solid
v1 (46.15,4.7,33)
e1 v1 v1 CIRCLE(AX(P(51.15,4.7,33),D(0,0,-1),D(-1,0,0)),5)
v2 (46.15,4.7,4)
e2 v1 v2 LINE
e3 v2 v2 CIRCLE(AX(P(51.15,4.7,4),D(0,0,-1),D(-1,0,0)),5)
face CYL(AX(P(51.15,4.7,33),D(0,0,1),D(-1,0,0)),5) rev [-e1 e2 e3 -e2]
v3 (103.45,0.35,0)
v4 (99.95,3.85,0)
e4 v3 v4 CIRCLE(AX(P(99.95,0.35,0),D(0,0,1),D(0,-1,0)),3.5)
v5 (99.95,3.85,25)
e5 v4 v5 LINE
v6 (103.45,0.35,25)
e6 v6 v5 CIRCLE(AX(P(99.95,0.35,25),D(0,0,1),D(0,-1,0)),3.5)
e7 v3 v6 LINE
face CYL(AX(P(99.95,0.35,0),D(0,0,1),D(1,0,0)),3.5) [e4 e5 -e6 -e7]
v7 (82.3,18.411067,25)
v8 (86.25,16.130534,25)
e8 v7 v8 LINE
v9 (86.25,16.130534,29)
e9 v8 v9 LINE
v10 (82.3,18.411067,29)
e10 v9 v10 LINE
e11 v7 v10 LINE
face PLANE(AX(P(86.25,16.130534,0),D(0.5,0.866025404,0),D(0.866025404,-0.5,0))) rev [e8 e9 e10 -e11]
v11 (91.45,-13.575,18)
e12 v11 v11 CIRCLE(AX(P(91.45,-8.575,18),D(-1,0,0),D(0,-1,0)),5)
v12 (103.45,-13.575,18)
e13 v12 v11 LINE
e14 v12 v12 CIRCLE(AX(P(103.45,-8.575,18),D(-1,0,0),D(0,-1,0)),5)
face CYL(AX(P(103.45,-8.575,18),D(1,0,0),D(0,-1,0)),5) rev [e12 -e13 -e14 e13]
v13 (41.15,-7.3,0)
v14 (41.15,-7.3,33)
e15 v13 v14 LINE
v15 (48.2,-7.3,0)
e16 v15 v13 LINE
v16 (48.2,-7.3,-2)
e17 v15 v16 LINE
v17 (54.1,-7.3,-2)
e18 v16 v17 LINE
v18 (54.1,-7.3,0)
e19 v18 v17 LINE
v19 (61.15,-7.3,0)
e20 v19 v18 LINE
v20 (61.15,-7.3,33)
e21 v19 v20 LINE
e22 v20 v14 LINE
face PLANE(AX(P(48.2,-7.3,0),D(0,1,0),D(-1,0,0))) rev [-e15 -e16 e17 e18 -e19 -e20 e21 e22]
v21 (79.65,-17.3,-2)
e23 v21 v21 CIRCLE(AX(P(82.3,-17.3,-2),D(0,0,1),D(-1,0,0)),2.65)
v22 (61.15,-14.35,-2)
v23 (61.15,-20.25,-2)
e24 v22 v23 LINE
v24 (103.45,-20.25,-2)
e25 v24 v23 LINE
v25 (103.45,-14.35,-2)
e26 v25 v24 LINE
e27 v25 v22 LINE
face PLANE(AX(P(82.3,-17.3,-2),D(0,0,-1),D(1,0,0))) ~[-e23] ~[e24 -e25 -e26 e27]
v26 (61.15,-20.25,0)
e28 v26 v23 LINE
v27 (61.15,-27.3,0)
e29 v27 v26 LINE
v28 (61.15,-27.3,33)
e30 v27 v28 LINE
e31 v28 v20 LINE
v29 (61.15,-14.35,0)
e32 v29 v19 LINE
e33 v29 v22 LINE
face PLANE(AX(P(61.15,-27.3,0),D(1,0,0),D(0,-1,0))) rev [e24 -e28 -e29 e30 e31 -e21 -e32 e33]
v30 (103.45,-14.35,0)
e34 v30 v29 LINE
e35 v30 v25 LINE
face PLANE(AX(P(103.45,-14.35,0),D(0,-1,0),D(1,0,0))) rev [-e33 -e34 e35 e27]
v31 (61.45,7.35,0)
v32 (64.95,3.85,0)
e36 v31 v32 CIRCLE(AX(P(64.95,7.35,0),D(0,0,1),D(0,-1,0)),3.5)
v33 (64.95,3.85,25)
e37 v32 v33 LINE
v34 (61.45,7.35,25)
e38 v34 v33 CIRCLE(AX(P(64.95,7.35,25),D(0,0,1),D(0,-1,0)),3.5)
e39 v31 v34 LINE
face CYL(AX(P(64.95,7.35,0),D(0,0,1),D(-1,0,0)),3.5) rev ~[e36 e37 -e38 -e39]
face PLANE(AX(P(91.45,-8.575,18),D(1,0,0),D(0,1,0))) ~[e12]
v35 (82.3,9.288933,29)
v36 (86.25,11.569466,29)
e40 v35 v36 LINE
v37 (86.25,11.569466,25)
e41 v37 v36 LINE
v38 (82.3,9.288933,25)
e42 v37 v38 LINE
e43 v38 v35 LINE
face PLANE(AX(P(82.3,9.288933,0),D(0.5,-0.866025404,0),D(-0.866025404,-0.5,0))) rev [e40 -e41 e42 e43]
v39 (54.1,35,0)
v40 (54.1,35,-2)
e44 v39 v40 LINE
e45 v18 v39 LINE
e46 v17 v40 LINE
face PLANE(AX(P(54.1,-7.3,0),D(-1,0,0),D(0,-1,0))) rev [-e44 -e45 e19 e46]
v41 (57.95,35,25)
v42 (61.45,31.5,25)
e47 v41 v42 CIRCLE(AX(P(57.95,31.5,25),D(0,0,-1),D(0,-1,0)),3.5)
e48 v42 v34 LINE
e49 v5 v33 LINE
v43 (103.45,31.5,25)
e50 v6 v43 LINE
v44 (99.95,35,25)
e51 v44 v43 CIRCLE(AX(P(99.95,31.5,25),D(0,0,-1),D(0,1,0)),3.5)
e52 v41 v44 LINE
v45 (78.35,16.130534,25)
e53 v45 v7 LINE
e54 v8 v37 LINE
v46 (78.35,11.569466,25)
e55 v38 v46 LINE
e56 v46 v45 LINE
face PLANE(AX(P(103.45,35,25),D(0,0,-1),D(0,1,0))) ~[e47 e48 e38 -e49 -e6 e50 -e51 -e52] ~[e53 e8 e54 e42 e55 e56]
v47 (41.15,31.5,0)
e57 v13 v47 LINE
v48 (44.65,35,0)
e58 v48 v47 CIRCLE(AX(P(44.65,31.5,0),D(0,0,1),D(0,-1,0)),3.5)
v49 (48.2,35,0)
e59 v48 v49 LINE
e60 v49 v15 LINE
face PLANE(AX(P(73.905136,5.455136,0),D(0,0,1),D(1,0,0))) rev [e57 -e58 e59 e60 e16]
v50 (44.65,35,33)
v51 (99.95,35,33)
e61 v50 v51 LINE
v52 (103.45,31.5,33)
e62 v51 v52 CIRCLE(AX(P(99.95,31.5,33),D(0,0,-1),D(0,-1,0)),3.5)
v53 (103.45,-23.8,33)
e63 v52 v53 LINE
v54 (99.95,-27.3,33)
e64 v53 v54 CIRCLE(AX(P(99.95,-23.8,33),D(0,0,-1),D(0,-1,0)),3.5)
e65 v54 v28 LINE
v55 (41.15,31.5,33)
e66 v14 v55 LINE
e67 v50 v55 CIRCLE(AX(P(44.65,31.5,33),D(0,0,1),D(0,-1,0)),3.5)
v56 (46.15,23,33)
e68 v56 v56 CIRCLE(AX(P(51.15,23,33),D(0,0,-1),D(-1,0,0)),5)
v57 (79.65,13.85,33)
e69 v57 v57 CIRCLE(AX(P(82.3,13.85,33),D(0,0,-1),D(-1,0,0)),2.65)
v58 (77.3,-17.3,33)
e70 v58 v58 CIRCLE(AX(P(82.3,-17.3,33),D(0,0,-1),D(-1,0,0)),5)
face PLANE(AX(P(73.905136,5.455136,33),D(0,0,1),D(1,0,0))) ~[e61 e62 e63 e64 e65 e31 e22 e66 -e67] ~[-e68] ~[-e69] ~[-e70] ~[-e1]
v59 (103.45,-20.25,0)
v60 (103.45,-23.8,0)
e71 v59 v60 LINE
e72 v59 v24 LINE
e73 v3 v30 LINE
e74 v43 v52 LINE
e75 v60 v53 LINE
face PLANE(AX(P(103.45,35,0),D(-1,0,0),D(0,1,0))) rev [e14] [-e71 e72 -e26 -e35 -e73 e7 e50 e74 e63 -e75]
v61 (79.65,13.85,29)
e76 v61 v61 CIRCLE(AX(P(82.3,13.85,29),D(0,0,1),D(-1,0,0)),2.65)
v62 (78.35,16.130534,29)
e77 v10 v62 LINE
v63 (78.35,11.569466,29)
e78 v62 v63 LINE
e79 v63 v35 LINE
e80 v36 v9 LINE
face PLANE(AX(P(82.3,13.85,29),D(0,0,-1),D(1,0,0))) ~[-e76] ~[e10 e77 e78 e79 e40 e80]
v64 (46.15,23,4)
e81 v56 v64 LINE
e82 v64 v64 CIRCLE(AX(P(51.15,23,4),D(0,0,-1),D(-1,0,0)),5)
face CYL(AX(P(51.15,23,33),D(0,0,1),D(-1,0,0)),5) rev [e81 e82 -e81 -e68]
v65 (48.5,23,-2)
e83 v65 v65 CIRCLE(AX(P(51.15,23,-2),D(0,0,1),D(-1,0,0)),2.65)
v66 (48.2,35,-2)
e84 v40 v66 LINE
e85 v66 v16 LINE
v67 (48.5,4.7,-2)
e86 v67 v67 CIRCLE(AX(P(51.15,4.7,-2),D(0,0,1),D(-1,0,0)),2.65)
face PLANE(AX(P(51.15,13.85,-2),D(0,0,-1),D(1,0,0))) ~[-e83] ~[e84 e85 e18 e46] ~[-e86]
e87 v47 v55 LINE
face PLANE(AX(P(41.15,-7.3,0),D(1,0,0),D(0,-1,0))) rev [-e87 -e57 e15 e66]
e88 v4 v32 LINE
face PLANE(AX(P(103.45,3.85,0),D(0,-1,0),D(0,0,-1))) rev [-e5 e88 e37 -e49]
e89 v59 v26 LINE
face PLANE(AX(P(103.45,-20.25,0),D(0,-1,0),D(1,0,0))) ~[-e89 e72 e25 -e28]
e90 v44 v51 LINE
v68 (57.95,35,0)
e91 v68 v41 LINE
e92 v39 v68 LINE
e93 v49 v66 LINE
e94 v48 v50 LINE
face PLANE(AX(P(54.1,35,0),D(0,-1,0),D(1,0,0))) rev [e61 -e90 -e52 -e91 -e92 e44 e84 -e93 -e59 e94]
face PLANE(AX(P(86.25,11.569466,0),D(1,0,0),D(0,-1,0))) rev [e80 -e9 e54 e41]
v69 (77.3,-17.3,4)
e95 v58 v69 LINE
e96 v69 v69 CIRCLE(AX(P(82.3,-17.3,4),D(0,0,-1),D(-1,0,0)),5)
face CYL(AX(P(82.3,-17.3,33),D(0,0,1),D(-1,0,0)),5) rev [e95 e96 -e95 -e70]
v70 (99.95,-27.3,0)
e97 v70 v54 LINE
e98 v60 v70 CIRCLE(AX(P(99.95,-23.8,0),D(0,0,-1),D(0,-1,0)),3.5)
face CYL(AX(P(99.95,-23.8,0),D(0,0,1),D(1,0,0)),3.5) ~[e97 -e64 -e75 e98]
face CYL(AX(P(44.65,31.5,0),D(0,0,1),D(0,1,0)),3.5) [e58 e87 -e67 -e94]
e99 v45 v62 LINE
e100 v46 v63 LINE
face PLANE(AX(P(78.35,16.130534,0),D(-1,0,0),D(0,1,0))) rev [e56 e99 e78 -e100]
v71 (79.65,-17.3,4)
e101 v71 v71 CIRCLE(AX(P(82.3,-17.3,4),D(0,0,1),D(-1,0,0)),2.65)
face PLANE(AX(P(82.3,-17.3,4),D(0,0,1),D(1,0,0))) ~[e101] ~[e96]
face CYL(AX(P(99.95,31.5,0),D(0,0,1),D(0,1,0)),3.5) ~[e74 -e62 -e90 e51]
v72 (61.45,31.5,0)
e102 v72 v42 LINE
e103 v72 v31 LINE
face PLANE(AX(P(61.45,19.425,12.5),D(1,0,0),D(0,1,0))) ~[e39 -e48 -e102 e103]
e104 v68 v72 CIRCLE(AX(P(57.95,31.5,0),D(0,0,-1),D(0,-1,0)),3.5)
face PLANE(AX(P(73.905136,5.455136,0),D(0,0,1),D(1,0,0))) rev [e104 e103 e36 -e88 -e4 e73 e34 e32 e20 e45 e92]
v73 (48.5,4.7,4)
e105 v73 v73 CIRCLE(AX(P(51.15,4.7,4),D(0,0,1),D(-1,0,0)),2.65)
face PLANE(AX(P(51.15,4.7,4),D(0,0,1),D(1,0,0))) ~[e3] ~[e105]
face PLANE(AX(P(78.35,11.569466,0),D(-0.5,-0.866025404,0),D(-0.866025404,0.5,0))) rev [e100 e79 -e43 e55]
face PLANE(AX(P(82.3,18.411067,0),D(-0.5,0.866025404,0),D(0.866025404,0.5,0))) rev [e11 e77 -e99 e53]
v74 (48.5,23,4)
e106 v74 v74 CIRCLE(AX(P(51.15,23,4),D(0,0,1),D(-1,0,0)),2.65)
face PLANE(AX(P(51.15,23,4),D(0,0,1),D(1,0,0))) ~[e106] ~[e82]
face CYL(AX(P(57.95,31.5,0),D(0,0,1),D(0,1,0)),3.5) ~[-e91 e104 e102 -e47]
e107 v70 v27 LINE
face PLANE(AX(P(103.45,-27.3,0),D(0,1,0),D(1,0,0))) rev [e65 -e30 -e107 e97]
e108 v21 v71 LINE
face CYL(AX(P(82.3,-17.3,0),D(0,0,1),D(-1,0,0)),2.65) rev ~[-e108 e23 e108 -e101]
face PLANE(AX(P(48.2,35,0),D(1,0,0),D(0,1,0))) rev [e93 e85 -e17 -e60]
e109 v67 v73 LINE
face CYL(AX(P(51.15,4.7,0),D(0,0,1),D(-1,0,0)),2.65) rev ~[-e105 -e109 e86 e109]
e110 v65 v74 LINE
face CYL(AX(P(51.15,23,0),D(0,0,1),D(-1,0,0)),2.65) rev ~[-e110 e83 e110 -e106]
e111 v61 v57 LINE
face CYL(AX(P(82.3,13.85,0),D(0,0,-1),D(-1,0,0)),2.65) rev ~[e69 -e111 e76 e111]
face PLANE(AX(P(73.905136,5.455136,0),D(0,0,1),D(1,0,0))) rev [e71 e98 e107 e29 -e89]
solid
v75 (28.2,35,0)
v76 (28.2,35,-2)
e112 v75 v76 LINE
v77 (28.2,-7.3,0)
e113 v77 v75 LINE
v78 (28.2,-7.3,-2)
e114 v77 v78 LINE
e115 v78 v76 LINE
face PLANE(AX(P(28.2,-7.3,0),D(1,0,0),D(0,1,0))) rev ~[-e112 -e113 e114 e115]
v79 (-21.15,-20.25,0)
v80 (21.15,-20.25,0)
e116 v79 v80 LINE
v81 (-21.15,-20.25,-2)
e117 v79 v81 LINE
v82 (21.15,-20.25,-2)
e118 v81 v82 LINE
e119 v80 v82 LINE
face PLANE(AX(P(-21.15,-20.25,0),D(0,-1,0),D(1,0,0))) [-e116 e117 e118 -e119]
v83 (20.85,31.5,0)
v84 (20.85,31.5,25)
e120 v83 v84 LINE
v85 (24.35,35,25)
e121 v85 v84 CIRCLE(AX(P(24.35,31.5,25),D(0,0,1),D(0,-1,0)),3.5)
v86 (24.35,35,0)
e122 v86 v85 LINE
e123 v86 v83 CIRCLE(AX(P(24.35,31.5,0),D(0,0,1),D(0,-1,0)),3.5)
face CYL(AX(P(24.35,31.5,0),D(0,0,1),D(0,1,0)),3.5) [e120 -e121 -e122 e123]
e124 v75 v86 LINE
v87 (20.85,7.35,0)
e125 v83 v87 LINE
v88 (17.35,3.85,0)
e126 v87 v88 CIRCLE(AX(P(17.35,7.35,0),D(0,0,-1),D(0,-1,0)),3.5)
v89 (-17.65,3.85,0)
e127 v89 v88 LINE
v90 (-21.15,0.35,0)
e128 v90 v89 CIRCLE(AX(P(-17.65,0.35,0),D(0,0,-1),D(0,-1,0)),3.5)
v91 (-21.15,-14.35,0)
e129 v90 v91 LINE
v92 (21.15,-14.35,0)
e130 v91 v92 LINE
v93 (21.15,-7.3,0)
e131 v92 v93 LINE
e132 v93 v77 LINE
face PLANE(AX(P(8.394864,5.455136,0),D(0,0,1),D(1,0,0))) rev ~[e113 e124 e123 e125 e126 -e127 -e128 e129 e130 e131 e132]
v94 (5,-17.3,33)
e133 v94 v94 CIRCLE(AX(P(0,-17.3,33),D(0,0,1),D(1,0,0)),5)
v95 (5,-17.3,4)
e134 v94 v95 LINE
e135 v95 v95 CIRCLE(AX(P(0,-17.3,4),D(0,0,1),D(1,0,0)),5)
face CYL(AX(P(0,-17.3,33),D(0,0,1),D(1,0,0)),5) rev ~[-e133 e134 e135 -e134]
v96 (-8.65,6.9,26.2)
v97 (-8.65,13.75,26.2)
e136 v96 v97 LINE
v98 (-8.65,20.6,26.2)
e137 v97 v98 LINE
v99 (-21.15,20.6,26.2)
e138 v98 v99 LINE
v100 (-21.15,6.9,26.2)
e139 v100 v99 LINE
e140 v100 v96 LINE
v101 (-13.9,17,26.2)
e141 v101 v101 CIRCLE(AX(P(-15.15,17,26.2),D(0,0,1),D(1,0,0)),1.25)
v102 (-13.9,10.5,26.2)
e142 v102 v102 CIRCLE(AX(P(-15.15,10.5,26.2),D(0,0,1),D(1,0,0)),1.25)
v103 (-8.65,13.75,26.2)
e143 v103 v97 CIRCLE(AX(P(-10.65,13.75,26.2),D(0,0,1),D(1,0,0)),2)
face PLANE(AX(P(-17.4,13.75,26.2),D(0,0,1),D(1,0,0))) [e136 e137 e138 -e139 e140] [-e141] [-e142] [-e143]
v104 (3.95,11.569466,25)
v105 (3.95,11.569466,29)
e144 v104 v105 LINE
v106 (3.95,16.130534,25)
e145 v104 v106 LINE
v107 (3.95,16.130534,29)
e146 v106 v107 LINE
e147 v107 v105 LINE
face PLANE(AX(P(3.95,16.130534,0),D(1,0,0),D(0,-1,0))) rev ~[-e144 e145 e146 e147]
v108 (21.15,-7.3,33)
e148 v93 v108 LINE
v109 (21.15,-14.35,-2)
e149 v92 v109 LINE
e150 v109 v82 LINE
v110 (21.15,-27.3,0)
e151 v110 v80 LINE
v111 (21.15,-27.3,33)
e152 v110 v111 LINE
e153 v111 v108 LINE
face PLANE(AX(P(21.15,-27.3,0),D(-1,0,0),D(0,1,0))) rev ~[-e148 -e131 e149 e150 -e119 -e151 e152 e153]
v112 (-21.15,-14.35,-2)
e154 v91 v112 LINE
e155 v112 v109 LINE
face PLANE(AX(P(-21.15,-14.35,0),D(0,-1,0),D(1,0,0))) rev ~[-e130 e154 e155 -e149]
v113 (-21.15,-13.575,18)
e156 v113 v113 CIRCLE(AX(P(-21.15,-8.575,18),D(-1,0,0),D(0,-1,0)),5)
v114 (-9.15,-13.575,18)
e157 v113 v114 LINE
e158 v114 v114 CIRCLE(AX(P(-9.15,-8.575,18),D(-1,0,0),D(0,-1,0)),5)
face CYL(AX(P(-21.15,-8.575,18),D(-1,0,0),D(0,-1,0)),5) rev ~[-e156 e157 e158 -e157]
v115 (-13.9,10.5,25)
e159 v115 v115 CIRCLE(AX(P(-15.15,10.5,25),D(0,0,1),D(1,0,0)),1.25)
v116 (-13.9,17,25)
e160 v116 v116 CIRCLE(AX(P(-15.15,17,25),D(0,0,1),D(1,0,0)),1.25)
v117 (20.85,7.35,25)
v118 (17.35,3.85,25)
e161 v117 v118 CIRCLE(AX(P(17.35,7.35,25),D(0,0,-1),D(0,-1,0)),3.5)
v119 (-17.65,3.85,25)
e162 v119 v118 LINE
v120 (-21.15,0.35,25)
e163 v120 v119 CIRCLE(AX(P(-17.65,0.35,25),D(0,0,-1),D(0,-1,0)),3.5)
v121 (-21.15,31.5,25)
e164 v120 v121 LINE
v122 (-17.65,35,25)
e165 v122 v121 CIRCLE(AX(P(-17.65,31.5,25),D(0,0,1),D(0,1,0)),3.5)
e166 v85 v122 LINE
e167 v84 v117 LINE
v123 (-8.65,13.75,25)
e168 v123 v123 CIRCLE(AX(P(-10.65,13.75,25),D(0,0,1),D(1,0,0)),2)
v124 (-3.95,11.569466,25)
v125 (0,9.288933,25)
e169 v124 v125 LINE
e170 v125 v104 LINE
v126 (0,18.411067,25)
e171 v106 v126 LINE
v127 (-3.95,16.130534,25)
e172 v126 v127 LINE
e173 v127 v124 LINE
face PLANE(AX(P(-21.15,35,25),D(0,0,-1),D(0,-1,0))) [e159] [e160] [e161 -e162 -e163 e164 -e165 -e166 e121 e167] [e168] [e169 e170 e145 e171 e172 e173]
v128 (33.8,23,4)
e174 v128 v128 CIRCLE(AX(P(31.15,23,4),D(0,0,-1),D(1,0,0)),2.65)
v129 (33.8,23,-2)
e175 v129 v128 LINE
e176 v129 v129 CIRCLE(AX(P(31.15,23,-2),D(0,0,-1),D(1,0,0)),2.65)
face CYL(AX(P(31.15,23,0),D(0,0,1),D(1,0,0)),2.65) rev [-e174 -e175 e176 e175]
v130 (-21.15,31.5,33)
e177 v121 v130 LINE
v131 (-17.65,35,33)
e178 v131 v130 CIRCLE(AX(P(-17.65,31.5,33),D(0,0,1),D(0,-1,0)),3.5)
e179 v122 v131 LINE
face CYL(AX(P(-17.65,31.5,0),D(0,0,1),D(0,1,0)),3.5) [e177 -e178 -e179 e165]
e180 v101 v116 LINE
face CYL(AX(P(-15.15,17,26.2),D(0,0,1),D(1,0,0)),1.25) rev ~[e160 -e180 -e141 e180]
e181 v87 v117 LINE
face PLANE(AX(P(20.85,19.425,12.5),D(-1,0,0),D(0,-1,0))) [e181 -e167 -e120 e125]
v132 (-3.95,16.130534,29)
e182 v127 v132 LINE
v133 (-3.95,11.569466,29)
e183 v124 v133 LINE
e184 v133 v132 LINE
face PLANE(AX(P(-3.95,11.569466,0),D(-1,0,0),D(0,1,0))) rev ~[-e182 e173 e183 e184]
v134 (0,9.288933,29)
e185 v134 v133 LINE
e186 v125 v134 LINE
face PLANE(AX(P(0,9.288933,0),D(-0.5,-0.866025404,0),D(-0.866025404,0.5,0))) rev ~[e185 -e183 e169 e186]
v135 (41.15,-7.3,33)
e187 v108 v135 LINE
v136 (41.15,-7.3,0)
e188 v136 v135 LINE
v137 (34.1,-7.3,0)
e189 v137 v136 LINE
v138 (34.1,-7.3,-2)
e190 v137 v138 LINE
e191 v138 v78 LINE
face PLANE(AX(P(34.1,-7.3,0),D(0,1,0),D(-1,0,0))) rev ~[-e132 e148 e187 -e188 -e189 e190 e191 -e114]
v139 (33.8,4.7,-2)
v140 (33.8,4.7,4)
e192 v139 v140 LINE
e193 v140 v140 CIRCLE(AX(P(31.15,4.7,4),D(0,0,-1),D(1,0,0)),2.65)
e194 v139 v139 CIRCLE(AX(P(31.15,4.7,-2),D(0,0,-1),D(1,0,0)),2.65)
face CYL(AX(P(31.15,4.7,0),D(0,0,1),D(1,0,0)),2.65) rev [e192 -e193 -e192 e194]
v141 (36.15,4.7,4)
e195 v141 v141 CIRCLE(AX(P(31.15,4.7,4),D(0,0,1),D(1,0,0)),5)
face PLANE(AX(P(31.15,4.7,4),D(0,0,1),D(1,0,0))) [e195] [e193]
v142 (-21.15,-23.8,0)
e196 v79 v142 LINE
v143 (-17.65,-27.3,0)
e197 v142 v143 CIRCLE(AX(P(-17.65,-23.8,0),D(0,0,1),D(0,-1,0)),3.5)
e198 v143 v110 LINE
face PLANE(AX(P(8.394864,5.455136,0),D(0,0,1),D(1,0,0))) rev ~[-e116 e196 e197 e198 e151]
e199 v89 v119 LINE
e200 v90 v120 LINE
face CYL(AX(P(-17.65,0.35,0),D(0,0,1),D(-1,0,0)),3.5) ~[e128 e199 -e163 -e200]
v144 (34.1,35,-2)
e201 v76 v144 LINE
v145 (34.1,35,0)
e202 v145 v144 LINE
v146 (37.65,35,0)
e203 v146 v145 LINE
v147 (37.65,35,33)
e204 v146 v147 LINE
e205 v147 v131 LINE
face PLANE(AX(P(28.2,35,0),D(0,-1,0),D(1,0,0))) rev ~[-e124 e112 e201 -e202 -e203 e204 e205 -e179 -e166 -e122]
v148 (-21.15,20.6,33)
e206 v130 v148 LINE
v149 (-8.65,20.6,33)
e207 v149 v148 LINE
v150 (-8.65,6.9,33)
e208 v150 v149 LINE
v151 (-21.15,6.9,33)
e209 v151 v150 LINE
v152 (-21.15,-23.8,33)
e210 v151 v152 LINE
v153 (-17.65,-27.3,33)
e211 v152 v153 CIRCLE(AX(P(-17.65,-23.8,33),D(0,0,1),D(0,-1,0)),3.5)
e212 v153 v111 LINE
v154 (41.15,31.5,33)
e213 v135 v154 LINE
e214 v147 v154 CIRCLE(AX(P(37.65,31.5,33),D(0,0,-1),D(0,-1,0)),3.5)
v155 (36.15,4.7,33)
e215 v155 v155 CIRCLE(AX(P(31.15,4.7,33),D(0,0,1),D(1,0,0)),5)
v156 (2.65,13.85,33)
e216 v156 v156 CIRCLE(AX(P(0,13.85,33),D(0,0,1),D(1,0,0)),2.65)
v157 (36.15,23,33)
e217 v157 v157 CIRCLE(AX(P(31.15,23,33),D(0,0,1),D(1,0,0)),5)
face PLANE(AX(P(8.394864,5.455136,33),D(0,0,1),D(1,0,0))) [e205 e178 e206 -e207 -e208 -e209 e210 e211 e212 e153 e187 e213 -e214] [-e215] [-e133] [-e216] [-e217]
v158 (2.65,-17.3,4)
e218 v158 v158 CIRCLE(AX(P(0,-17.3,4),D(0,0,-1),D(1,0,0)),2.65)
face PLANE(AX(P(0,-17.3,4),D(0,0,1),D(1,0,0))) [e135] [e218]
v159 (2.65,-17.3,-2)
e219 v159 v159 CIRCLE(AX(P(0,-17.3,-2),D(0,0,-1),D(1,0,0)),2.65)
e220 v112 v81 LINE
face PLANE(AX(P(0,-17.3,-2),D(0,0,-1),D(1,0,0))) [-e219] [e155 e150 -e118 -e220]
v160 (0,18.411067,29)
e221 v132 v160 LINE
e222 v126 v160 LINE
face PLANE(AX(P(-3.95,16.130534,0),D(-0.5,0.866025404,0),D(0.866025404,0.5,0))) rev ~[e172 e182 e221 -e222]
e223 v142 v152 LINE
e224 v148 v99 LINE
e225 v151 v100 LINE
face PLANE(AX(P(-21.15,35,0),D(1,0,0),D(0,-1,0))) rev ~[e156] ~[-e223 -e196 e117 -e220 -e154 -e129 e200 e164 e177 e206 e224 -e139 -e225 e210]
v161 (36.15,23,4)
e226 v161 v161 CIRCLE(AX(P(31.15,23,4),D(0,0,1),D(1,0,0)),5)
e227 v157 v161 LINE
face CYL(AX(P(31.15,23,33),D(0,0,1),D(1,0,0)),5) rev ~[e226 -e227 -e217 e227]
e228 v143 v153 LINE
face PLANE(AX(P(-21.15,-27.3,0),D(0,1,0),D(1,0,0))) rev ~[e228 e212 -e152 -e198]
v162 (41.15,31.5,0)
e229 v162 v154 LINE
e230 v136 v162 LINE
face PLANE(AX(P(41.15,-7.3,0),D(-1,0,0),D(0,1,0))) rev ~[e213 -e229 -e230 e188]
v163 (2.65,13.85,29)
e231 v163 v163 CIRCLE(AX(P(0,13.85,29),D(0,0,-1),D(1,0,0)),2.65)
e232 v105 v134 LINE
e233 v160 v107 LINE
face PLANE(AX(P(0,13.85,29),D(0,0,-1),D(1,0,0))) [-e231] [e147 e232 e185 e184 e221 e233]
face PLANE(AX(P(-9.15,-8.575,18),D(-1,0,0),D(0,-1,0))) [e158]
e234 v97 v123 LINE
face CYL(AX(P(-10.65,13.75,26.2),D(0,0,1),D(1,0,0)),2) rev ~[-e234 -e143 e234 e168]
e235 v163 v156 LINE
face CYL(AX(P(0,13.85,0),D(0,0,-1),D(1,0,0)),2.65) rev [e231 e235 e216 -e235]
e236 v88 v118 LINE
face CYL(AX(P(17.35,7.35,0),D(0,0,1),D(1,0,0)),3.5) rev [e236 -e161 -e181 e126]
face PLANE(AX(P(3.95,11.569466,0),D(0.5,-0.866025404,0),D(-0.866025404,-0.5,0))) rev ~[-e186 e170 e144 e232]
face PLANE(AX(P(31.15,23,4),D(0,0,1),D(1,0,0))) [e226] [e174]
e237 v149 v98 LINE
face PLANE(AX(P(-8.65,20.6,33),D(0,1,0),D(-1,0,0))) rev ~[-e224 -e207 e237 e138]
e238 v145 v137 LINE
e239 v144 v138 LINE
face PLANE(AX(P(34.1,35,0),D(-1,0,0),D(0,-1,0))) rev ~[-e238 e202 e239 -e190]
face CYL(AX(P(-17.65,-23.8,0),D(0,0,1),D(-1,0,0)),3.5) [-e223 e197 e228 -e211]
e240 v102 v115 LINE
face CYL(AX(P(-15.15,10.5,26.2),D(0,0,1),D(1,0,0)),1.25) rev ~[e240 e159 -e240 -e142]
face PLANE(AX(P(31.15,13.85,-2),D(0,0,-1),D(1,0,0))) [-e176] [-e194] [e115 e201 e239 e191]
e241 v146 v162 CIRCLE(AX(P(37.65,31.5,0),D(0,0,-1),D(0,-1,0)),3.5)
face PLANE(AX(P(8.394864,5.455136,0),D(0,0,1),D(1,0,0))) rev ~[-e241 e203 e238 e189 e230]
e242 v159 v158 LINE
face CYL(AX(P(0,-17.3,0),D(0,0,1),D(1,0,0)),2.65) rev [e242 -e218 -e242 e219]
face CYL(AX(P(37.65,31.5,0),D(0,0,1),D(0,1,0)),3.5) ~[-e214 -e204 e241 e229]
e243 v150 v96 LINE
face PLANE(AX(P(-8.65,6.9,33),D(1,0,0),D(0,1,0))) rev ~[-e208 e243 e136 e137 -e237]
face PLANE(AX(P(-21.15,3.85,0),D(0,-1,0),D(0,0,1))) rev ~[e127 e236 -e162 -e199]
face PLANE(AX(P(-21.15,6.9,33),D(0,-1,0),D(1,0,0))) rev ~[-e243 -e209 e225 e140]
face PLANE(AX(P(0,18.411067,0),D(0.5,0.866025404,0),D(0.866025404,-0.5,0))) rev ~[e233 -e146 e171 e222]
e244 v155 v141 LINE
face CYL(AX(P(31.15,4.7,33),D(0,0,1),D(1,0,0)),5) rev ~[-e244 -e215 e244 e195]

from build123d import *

# Parameters (mm, degrees)
F0_R      = 2.65
F1_DEPTH  = 33
F2_R      = 5
F3_DEPTH  = 12
F5_DEPTH  = 29
F6_R      = 5
F7_DEPTH  = 29
F8_R      = 2.65
F8_W      = 42.3
F8_H      = 5.9
F9_DEPTH  = 2
F10_R     = 3.5
F11_W     = 31.15
F11_H     = 25
F12_DEPTH = 42
F13_R     = 3.5
F15_W     = 7.5
F15_H     = 13.7
F15_W_2   = 5
F16_DEPTH = 6.8
F17_R     = 1.25
F18_DEPTH = 8
F19_R     = 2
F20_DEPTH = 30


with BuildPart() as f1:
    # F0 (on Top) → F1 (new body)
    with BuildSketch(Plane.XY):
        Polygon((41.15, 35), (-21.15, 35), (-21.15, -27.3), (21.15, -27.3), (21.15, -7.3), (41.15, -7.3), align=None)
        with Locations((0, -17.3)):
            Circle(F0_R, mode=Mode.SUBTRACT)
        with Locations((0, 13.85)):
            Circle(F0_R, mode=Mode.SUBTRACT)
        with Locations((31.15, 4.7)):
            Circle(F0_R, mode=Mode.SUBTRACT)
        with Locations((31.15, 23)):
            Circle(F0_R, mode=Mode.SUBTRACT)
    extrude(amount=F1_DEPTH)

    # F2 (on face) → F3 (cut)
    with BuildSketch(Plane(origin=(-21.15, 0, 0), x_dir=(0, -1, 0), z_dir=(-1, 0, 0))):
        with Locations((8.575, 18)):
            Circle(F2_R)
    extrude(amount=-F3_DEPTH, mode=Mode.SUBTRACT)

    # F4 (on face) → F5 (cut)
    with BuildSketch(Plane(origin=(0, 0, 0), x_dir=(1, 0, 0), z_dir=(0, 0, -1))):
        Polygon((-3.95, -11.5694664367), (-3.95, -16.1305335633), (0, -18.4110671266), (3.95, -16.1305335633), (3.95, -11.5694664367), (0, -9.2889328734), align=None)
    extrude(amount=-F5_DEPTH, mode=Mode.SUBTRACT)

    # F6 (on face) → F7 (cut)
    with BuildSketch(Plane.XY.offset(33)):
        with Locations((31.15, 23)):
            Circle(F6_R)
        with Locations((31.15, 4.7)):
            Circle(F6_R)
        with Locations((0, -17.3)):
            Circle(F6_R)
    extrude(amount=-F7_DEPTH, mode=Mode.SUBTRACT)

    # F8 (on face) → F9 (join)
    with BuildSketch(Plane(origin=(0, 0, 0), x_dir=(1, 0, 0), z_dir=(0, 0, -1))):
        Polygon((34.1, 7.3), (28.2, 7.3), (28.2, -13.5680906466), (28.2, -35), (34.1, -35), (34.1, -13.5680906466), align=None)
        with Locations((31.15, -23)):
            Circle(F8_R, mode=Mode.SUBTRACT)
        with Locations((31.15, -4.7)):
            Circle(F8_R, mode=Mode.SUBTRACT)
        with Locations((0, 17.3)):
            Rectangle(F8_W, F8_H)
        with Locations((0, 17.3)):
            Circle(F8_R, mode=Mode.SUBTRACT)
    extrude(amount=F9_DEPTH)

    # F10
    f10_edges = [f1.edges().sort_by_distance(p)[0] for p in [
        (-21.15, -27.3, 16.5),
        (-21.15, 35, 16.5),
        (41.15, 35, 16.5),
    ]]
    fillet(f10_edges, radius=F10_R)

    # F11 (on face) → F12 (cut)
    with BuildSketch(Plane(origin=(-21.15, 0, 0), x_dir=(0, -1, 0), z_dir=(-1, 0, 0))):
        with Locations((-19.425, 12.5)):
            Rectangle(F11_W, F11_H)
    extrude(amount=-F12_DEPTH, mode=Mode.SUBTRACT)

    # F13
    f13_edges = [f1.edges().sort_by_distance(p)[0] for p in [
        (-21.15, 3.85, 12.5),
        (20.85, 3.85, 12.5),
        (20.85, 35, 12.5),
    ]]
    fillet(f13_edges, radius=F13_R)


with BuildPart() as f14_1:
    # F14: instance of F1
    add(f1.part.mirror(Plane(origin=(41.15, 12.1, 16.5), x_dir=(0, 1, 0), z_dir=(1, 0, 0))))


with BuildPart() as f1_1:
    add(f1.part)

    # F15 (on face) → F16 (cut)
    with BuildSketch(Plane.XY.offset(33)):
        with Locations((-17.4, 13.75)):
            Rectangle(F15_W, F15_H)
        with Locations((-11.15, 13.75)):
            Rectangle(F15_W_2, F15_H)
    extrude(amount=-F16_DEPTH, mode=Mode.SUBTRACT)

    # F17 (on face) → F18 (cut)
    with BuildSketch(Plane.XY.offset(26.2)):
        with Locations((-15.15, 17)):
            Circle(F17_R)
        with Locations((-15.15, 10.5)):
            Circle(F17_R)
    extrude(amount=-F18_DEPTH, mode=Mode.SUBTRACT)

    # F19 (on face) → F20 (cut)
    with BuildSketch(Plane.XY.offset(26.2)):
        with Locations((-10.65, 13.75)):
            Circle(F19_R)
    extrude(amount=-F20_DEPTH, mode=Mode.SUBTRACT)


solid = Compound([f14_1.part, f1_1.part])
